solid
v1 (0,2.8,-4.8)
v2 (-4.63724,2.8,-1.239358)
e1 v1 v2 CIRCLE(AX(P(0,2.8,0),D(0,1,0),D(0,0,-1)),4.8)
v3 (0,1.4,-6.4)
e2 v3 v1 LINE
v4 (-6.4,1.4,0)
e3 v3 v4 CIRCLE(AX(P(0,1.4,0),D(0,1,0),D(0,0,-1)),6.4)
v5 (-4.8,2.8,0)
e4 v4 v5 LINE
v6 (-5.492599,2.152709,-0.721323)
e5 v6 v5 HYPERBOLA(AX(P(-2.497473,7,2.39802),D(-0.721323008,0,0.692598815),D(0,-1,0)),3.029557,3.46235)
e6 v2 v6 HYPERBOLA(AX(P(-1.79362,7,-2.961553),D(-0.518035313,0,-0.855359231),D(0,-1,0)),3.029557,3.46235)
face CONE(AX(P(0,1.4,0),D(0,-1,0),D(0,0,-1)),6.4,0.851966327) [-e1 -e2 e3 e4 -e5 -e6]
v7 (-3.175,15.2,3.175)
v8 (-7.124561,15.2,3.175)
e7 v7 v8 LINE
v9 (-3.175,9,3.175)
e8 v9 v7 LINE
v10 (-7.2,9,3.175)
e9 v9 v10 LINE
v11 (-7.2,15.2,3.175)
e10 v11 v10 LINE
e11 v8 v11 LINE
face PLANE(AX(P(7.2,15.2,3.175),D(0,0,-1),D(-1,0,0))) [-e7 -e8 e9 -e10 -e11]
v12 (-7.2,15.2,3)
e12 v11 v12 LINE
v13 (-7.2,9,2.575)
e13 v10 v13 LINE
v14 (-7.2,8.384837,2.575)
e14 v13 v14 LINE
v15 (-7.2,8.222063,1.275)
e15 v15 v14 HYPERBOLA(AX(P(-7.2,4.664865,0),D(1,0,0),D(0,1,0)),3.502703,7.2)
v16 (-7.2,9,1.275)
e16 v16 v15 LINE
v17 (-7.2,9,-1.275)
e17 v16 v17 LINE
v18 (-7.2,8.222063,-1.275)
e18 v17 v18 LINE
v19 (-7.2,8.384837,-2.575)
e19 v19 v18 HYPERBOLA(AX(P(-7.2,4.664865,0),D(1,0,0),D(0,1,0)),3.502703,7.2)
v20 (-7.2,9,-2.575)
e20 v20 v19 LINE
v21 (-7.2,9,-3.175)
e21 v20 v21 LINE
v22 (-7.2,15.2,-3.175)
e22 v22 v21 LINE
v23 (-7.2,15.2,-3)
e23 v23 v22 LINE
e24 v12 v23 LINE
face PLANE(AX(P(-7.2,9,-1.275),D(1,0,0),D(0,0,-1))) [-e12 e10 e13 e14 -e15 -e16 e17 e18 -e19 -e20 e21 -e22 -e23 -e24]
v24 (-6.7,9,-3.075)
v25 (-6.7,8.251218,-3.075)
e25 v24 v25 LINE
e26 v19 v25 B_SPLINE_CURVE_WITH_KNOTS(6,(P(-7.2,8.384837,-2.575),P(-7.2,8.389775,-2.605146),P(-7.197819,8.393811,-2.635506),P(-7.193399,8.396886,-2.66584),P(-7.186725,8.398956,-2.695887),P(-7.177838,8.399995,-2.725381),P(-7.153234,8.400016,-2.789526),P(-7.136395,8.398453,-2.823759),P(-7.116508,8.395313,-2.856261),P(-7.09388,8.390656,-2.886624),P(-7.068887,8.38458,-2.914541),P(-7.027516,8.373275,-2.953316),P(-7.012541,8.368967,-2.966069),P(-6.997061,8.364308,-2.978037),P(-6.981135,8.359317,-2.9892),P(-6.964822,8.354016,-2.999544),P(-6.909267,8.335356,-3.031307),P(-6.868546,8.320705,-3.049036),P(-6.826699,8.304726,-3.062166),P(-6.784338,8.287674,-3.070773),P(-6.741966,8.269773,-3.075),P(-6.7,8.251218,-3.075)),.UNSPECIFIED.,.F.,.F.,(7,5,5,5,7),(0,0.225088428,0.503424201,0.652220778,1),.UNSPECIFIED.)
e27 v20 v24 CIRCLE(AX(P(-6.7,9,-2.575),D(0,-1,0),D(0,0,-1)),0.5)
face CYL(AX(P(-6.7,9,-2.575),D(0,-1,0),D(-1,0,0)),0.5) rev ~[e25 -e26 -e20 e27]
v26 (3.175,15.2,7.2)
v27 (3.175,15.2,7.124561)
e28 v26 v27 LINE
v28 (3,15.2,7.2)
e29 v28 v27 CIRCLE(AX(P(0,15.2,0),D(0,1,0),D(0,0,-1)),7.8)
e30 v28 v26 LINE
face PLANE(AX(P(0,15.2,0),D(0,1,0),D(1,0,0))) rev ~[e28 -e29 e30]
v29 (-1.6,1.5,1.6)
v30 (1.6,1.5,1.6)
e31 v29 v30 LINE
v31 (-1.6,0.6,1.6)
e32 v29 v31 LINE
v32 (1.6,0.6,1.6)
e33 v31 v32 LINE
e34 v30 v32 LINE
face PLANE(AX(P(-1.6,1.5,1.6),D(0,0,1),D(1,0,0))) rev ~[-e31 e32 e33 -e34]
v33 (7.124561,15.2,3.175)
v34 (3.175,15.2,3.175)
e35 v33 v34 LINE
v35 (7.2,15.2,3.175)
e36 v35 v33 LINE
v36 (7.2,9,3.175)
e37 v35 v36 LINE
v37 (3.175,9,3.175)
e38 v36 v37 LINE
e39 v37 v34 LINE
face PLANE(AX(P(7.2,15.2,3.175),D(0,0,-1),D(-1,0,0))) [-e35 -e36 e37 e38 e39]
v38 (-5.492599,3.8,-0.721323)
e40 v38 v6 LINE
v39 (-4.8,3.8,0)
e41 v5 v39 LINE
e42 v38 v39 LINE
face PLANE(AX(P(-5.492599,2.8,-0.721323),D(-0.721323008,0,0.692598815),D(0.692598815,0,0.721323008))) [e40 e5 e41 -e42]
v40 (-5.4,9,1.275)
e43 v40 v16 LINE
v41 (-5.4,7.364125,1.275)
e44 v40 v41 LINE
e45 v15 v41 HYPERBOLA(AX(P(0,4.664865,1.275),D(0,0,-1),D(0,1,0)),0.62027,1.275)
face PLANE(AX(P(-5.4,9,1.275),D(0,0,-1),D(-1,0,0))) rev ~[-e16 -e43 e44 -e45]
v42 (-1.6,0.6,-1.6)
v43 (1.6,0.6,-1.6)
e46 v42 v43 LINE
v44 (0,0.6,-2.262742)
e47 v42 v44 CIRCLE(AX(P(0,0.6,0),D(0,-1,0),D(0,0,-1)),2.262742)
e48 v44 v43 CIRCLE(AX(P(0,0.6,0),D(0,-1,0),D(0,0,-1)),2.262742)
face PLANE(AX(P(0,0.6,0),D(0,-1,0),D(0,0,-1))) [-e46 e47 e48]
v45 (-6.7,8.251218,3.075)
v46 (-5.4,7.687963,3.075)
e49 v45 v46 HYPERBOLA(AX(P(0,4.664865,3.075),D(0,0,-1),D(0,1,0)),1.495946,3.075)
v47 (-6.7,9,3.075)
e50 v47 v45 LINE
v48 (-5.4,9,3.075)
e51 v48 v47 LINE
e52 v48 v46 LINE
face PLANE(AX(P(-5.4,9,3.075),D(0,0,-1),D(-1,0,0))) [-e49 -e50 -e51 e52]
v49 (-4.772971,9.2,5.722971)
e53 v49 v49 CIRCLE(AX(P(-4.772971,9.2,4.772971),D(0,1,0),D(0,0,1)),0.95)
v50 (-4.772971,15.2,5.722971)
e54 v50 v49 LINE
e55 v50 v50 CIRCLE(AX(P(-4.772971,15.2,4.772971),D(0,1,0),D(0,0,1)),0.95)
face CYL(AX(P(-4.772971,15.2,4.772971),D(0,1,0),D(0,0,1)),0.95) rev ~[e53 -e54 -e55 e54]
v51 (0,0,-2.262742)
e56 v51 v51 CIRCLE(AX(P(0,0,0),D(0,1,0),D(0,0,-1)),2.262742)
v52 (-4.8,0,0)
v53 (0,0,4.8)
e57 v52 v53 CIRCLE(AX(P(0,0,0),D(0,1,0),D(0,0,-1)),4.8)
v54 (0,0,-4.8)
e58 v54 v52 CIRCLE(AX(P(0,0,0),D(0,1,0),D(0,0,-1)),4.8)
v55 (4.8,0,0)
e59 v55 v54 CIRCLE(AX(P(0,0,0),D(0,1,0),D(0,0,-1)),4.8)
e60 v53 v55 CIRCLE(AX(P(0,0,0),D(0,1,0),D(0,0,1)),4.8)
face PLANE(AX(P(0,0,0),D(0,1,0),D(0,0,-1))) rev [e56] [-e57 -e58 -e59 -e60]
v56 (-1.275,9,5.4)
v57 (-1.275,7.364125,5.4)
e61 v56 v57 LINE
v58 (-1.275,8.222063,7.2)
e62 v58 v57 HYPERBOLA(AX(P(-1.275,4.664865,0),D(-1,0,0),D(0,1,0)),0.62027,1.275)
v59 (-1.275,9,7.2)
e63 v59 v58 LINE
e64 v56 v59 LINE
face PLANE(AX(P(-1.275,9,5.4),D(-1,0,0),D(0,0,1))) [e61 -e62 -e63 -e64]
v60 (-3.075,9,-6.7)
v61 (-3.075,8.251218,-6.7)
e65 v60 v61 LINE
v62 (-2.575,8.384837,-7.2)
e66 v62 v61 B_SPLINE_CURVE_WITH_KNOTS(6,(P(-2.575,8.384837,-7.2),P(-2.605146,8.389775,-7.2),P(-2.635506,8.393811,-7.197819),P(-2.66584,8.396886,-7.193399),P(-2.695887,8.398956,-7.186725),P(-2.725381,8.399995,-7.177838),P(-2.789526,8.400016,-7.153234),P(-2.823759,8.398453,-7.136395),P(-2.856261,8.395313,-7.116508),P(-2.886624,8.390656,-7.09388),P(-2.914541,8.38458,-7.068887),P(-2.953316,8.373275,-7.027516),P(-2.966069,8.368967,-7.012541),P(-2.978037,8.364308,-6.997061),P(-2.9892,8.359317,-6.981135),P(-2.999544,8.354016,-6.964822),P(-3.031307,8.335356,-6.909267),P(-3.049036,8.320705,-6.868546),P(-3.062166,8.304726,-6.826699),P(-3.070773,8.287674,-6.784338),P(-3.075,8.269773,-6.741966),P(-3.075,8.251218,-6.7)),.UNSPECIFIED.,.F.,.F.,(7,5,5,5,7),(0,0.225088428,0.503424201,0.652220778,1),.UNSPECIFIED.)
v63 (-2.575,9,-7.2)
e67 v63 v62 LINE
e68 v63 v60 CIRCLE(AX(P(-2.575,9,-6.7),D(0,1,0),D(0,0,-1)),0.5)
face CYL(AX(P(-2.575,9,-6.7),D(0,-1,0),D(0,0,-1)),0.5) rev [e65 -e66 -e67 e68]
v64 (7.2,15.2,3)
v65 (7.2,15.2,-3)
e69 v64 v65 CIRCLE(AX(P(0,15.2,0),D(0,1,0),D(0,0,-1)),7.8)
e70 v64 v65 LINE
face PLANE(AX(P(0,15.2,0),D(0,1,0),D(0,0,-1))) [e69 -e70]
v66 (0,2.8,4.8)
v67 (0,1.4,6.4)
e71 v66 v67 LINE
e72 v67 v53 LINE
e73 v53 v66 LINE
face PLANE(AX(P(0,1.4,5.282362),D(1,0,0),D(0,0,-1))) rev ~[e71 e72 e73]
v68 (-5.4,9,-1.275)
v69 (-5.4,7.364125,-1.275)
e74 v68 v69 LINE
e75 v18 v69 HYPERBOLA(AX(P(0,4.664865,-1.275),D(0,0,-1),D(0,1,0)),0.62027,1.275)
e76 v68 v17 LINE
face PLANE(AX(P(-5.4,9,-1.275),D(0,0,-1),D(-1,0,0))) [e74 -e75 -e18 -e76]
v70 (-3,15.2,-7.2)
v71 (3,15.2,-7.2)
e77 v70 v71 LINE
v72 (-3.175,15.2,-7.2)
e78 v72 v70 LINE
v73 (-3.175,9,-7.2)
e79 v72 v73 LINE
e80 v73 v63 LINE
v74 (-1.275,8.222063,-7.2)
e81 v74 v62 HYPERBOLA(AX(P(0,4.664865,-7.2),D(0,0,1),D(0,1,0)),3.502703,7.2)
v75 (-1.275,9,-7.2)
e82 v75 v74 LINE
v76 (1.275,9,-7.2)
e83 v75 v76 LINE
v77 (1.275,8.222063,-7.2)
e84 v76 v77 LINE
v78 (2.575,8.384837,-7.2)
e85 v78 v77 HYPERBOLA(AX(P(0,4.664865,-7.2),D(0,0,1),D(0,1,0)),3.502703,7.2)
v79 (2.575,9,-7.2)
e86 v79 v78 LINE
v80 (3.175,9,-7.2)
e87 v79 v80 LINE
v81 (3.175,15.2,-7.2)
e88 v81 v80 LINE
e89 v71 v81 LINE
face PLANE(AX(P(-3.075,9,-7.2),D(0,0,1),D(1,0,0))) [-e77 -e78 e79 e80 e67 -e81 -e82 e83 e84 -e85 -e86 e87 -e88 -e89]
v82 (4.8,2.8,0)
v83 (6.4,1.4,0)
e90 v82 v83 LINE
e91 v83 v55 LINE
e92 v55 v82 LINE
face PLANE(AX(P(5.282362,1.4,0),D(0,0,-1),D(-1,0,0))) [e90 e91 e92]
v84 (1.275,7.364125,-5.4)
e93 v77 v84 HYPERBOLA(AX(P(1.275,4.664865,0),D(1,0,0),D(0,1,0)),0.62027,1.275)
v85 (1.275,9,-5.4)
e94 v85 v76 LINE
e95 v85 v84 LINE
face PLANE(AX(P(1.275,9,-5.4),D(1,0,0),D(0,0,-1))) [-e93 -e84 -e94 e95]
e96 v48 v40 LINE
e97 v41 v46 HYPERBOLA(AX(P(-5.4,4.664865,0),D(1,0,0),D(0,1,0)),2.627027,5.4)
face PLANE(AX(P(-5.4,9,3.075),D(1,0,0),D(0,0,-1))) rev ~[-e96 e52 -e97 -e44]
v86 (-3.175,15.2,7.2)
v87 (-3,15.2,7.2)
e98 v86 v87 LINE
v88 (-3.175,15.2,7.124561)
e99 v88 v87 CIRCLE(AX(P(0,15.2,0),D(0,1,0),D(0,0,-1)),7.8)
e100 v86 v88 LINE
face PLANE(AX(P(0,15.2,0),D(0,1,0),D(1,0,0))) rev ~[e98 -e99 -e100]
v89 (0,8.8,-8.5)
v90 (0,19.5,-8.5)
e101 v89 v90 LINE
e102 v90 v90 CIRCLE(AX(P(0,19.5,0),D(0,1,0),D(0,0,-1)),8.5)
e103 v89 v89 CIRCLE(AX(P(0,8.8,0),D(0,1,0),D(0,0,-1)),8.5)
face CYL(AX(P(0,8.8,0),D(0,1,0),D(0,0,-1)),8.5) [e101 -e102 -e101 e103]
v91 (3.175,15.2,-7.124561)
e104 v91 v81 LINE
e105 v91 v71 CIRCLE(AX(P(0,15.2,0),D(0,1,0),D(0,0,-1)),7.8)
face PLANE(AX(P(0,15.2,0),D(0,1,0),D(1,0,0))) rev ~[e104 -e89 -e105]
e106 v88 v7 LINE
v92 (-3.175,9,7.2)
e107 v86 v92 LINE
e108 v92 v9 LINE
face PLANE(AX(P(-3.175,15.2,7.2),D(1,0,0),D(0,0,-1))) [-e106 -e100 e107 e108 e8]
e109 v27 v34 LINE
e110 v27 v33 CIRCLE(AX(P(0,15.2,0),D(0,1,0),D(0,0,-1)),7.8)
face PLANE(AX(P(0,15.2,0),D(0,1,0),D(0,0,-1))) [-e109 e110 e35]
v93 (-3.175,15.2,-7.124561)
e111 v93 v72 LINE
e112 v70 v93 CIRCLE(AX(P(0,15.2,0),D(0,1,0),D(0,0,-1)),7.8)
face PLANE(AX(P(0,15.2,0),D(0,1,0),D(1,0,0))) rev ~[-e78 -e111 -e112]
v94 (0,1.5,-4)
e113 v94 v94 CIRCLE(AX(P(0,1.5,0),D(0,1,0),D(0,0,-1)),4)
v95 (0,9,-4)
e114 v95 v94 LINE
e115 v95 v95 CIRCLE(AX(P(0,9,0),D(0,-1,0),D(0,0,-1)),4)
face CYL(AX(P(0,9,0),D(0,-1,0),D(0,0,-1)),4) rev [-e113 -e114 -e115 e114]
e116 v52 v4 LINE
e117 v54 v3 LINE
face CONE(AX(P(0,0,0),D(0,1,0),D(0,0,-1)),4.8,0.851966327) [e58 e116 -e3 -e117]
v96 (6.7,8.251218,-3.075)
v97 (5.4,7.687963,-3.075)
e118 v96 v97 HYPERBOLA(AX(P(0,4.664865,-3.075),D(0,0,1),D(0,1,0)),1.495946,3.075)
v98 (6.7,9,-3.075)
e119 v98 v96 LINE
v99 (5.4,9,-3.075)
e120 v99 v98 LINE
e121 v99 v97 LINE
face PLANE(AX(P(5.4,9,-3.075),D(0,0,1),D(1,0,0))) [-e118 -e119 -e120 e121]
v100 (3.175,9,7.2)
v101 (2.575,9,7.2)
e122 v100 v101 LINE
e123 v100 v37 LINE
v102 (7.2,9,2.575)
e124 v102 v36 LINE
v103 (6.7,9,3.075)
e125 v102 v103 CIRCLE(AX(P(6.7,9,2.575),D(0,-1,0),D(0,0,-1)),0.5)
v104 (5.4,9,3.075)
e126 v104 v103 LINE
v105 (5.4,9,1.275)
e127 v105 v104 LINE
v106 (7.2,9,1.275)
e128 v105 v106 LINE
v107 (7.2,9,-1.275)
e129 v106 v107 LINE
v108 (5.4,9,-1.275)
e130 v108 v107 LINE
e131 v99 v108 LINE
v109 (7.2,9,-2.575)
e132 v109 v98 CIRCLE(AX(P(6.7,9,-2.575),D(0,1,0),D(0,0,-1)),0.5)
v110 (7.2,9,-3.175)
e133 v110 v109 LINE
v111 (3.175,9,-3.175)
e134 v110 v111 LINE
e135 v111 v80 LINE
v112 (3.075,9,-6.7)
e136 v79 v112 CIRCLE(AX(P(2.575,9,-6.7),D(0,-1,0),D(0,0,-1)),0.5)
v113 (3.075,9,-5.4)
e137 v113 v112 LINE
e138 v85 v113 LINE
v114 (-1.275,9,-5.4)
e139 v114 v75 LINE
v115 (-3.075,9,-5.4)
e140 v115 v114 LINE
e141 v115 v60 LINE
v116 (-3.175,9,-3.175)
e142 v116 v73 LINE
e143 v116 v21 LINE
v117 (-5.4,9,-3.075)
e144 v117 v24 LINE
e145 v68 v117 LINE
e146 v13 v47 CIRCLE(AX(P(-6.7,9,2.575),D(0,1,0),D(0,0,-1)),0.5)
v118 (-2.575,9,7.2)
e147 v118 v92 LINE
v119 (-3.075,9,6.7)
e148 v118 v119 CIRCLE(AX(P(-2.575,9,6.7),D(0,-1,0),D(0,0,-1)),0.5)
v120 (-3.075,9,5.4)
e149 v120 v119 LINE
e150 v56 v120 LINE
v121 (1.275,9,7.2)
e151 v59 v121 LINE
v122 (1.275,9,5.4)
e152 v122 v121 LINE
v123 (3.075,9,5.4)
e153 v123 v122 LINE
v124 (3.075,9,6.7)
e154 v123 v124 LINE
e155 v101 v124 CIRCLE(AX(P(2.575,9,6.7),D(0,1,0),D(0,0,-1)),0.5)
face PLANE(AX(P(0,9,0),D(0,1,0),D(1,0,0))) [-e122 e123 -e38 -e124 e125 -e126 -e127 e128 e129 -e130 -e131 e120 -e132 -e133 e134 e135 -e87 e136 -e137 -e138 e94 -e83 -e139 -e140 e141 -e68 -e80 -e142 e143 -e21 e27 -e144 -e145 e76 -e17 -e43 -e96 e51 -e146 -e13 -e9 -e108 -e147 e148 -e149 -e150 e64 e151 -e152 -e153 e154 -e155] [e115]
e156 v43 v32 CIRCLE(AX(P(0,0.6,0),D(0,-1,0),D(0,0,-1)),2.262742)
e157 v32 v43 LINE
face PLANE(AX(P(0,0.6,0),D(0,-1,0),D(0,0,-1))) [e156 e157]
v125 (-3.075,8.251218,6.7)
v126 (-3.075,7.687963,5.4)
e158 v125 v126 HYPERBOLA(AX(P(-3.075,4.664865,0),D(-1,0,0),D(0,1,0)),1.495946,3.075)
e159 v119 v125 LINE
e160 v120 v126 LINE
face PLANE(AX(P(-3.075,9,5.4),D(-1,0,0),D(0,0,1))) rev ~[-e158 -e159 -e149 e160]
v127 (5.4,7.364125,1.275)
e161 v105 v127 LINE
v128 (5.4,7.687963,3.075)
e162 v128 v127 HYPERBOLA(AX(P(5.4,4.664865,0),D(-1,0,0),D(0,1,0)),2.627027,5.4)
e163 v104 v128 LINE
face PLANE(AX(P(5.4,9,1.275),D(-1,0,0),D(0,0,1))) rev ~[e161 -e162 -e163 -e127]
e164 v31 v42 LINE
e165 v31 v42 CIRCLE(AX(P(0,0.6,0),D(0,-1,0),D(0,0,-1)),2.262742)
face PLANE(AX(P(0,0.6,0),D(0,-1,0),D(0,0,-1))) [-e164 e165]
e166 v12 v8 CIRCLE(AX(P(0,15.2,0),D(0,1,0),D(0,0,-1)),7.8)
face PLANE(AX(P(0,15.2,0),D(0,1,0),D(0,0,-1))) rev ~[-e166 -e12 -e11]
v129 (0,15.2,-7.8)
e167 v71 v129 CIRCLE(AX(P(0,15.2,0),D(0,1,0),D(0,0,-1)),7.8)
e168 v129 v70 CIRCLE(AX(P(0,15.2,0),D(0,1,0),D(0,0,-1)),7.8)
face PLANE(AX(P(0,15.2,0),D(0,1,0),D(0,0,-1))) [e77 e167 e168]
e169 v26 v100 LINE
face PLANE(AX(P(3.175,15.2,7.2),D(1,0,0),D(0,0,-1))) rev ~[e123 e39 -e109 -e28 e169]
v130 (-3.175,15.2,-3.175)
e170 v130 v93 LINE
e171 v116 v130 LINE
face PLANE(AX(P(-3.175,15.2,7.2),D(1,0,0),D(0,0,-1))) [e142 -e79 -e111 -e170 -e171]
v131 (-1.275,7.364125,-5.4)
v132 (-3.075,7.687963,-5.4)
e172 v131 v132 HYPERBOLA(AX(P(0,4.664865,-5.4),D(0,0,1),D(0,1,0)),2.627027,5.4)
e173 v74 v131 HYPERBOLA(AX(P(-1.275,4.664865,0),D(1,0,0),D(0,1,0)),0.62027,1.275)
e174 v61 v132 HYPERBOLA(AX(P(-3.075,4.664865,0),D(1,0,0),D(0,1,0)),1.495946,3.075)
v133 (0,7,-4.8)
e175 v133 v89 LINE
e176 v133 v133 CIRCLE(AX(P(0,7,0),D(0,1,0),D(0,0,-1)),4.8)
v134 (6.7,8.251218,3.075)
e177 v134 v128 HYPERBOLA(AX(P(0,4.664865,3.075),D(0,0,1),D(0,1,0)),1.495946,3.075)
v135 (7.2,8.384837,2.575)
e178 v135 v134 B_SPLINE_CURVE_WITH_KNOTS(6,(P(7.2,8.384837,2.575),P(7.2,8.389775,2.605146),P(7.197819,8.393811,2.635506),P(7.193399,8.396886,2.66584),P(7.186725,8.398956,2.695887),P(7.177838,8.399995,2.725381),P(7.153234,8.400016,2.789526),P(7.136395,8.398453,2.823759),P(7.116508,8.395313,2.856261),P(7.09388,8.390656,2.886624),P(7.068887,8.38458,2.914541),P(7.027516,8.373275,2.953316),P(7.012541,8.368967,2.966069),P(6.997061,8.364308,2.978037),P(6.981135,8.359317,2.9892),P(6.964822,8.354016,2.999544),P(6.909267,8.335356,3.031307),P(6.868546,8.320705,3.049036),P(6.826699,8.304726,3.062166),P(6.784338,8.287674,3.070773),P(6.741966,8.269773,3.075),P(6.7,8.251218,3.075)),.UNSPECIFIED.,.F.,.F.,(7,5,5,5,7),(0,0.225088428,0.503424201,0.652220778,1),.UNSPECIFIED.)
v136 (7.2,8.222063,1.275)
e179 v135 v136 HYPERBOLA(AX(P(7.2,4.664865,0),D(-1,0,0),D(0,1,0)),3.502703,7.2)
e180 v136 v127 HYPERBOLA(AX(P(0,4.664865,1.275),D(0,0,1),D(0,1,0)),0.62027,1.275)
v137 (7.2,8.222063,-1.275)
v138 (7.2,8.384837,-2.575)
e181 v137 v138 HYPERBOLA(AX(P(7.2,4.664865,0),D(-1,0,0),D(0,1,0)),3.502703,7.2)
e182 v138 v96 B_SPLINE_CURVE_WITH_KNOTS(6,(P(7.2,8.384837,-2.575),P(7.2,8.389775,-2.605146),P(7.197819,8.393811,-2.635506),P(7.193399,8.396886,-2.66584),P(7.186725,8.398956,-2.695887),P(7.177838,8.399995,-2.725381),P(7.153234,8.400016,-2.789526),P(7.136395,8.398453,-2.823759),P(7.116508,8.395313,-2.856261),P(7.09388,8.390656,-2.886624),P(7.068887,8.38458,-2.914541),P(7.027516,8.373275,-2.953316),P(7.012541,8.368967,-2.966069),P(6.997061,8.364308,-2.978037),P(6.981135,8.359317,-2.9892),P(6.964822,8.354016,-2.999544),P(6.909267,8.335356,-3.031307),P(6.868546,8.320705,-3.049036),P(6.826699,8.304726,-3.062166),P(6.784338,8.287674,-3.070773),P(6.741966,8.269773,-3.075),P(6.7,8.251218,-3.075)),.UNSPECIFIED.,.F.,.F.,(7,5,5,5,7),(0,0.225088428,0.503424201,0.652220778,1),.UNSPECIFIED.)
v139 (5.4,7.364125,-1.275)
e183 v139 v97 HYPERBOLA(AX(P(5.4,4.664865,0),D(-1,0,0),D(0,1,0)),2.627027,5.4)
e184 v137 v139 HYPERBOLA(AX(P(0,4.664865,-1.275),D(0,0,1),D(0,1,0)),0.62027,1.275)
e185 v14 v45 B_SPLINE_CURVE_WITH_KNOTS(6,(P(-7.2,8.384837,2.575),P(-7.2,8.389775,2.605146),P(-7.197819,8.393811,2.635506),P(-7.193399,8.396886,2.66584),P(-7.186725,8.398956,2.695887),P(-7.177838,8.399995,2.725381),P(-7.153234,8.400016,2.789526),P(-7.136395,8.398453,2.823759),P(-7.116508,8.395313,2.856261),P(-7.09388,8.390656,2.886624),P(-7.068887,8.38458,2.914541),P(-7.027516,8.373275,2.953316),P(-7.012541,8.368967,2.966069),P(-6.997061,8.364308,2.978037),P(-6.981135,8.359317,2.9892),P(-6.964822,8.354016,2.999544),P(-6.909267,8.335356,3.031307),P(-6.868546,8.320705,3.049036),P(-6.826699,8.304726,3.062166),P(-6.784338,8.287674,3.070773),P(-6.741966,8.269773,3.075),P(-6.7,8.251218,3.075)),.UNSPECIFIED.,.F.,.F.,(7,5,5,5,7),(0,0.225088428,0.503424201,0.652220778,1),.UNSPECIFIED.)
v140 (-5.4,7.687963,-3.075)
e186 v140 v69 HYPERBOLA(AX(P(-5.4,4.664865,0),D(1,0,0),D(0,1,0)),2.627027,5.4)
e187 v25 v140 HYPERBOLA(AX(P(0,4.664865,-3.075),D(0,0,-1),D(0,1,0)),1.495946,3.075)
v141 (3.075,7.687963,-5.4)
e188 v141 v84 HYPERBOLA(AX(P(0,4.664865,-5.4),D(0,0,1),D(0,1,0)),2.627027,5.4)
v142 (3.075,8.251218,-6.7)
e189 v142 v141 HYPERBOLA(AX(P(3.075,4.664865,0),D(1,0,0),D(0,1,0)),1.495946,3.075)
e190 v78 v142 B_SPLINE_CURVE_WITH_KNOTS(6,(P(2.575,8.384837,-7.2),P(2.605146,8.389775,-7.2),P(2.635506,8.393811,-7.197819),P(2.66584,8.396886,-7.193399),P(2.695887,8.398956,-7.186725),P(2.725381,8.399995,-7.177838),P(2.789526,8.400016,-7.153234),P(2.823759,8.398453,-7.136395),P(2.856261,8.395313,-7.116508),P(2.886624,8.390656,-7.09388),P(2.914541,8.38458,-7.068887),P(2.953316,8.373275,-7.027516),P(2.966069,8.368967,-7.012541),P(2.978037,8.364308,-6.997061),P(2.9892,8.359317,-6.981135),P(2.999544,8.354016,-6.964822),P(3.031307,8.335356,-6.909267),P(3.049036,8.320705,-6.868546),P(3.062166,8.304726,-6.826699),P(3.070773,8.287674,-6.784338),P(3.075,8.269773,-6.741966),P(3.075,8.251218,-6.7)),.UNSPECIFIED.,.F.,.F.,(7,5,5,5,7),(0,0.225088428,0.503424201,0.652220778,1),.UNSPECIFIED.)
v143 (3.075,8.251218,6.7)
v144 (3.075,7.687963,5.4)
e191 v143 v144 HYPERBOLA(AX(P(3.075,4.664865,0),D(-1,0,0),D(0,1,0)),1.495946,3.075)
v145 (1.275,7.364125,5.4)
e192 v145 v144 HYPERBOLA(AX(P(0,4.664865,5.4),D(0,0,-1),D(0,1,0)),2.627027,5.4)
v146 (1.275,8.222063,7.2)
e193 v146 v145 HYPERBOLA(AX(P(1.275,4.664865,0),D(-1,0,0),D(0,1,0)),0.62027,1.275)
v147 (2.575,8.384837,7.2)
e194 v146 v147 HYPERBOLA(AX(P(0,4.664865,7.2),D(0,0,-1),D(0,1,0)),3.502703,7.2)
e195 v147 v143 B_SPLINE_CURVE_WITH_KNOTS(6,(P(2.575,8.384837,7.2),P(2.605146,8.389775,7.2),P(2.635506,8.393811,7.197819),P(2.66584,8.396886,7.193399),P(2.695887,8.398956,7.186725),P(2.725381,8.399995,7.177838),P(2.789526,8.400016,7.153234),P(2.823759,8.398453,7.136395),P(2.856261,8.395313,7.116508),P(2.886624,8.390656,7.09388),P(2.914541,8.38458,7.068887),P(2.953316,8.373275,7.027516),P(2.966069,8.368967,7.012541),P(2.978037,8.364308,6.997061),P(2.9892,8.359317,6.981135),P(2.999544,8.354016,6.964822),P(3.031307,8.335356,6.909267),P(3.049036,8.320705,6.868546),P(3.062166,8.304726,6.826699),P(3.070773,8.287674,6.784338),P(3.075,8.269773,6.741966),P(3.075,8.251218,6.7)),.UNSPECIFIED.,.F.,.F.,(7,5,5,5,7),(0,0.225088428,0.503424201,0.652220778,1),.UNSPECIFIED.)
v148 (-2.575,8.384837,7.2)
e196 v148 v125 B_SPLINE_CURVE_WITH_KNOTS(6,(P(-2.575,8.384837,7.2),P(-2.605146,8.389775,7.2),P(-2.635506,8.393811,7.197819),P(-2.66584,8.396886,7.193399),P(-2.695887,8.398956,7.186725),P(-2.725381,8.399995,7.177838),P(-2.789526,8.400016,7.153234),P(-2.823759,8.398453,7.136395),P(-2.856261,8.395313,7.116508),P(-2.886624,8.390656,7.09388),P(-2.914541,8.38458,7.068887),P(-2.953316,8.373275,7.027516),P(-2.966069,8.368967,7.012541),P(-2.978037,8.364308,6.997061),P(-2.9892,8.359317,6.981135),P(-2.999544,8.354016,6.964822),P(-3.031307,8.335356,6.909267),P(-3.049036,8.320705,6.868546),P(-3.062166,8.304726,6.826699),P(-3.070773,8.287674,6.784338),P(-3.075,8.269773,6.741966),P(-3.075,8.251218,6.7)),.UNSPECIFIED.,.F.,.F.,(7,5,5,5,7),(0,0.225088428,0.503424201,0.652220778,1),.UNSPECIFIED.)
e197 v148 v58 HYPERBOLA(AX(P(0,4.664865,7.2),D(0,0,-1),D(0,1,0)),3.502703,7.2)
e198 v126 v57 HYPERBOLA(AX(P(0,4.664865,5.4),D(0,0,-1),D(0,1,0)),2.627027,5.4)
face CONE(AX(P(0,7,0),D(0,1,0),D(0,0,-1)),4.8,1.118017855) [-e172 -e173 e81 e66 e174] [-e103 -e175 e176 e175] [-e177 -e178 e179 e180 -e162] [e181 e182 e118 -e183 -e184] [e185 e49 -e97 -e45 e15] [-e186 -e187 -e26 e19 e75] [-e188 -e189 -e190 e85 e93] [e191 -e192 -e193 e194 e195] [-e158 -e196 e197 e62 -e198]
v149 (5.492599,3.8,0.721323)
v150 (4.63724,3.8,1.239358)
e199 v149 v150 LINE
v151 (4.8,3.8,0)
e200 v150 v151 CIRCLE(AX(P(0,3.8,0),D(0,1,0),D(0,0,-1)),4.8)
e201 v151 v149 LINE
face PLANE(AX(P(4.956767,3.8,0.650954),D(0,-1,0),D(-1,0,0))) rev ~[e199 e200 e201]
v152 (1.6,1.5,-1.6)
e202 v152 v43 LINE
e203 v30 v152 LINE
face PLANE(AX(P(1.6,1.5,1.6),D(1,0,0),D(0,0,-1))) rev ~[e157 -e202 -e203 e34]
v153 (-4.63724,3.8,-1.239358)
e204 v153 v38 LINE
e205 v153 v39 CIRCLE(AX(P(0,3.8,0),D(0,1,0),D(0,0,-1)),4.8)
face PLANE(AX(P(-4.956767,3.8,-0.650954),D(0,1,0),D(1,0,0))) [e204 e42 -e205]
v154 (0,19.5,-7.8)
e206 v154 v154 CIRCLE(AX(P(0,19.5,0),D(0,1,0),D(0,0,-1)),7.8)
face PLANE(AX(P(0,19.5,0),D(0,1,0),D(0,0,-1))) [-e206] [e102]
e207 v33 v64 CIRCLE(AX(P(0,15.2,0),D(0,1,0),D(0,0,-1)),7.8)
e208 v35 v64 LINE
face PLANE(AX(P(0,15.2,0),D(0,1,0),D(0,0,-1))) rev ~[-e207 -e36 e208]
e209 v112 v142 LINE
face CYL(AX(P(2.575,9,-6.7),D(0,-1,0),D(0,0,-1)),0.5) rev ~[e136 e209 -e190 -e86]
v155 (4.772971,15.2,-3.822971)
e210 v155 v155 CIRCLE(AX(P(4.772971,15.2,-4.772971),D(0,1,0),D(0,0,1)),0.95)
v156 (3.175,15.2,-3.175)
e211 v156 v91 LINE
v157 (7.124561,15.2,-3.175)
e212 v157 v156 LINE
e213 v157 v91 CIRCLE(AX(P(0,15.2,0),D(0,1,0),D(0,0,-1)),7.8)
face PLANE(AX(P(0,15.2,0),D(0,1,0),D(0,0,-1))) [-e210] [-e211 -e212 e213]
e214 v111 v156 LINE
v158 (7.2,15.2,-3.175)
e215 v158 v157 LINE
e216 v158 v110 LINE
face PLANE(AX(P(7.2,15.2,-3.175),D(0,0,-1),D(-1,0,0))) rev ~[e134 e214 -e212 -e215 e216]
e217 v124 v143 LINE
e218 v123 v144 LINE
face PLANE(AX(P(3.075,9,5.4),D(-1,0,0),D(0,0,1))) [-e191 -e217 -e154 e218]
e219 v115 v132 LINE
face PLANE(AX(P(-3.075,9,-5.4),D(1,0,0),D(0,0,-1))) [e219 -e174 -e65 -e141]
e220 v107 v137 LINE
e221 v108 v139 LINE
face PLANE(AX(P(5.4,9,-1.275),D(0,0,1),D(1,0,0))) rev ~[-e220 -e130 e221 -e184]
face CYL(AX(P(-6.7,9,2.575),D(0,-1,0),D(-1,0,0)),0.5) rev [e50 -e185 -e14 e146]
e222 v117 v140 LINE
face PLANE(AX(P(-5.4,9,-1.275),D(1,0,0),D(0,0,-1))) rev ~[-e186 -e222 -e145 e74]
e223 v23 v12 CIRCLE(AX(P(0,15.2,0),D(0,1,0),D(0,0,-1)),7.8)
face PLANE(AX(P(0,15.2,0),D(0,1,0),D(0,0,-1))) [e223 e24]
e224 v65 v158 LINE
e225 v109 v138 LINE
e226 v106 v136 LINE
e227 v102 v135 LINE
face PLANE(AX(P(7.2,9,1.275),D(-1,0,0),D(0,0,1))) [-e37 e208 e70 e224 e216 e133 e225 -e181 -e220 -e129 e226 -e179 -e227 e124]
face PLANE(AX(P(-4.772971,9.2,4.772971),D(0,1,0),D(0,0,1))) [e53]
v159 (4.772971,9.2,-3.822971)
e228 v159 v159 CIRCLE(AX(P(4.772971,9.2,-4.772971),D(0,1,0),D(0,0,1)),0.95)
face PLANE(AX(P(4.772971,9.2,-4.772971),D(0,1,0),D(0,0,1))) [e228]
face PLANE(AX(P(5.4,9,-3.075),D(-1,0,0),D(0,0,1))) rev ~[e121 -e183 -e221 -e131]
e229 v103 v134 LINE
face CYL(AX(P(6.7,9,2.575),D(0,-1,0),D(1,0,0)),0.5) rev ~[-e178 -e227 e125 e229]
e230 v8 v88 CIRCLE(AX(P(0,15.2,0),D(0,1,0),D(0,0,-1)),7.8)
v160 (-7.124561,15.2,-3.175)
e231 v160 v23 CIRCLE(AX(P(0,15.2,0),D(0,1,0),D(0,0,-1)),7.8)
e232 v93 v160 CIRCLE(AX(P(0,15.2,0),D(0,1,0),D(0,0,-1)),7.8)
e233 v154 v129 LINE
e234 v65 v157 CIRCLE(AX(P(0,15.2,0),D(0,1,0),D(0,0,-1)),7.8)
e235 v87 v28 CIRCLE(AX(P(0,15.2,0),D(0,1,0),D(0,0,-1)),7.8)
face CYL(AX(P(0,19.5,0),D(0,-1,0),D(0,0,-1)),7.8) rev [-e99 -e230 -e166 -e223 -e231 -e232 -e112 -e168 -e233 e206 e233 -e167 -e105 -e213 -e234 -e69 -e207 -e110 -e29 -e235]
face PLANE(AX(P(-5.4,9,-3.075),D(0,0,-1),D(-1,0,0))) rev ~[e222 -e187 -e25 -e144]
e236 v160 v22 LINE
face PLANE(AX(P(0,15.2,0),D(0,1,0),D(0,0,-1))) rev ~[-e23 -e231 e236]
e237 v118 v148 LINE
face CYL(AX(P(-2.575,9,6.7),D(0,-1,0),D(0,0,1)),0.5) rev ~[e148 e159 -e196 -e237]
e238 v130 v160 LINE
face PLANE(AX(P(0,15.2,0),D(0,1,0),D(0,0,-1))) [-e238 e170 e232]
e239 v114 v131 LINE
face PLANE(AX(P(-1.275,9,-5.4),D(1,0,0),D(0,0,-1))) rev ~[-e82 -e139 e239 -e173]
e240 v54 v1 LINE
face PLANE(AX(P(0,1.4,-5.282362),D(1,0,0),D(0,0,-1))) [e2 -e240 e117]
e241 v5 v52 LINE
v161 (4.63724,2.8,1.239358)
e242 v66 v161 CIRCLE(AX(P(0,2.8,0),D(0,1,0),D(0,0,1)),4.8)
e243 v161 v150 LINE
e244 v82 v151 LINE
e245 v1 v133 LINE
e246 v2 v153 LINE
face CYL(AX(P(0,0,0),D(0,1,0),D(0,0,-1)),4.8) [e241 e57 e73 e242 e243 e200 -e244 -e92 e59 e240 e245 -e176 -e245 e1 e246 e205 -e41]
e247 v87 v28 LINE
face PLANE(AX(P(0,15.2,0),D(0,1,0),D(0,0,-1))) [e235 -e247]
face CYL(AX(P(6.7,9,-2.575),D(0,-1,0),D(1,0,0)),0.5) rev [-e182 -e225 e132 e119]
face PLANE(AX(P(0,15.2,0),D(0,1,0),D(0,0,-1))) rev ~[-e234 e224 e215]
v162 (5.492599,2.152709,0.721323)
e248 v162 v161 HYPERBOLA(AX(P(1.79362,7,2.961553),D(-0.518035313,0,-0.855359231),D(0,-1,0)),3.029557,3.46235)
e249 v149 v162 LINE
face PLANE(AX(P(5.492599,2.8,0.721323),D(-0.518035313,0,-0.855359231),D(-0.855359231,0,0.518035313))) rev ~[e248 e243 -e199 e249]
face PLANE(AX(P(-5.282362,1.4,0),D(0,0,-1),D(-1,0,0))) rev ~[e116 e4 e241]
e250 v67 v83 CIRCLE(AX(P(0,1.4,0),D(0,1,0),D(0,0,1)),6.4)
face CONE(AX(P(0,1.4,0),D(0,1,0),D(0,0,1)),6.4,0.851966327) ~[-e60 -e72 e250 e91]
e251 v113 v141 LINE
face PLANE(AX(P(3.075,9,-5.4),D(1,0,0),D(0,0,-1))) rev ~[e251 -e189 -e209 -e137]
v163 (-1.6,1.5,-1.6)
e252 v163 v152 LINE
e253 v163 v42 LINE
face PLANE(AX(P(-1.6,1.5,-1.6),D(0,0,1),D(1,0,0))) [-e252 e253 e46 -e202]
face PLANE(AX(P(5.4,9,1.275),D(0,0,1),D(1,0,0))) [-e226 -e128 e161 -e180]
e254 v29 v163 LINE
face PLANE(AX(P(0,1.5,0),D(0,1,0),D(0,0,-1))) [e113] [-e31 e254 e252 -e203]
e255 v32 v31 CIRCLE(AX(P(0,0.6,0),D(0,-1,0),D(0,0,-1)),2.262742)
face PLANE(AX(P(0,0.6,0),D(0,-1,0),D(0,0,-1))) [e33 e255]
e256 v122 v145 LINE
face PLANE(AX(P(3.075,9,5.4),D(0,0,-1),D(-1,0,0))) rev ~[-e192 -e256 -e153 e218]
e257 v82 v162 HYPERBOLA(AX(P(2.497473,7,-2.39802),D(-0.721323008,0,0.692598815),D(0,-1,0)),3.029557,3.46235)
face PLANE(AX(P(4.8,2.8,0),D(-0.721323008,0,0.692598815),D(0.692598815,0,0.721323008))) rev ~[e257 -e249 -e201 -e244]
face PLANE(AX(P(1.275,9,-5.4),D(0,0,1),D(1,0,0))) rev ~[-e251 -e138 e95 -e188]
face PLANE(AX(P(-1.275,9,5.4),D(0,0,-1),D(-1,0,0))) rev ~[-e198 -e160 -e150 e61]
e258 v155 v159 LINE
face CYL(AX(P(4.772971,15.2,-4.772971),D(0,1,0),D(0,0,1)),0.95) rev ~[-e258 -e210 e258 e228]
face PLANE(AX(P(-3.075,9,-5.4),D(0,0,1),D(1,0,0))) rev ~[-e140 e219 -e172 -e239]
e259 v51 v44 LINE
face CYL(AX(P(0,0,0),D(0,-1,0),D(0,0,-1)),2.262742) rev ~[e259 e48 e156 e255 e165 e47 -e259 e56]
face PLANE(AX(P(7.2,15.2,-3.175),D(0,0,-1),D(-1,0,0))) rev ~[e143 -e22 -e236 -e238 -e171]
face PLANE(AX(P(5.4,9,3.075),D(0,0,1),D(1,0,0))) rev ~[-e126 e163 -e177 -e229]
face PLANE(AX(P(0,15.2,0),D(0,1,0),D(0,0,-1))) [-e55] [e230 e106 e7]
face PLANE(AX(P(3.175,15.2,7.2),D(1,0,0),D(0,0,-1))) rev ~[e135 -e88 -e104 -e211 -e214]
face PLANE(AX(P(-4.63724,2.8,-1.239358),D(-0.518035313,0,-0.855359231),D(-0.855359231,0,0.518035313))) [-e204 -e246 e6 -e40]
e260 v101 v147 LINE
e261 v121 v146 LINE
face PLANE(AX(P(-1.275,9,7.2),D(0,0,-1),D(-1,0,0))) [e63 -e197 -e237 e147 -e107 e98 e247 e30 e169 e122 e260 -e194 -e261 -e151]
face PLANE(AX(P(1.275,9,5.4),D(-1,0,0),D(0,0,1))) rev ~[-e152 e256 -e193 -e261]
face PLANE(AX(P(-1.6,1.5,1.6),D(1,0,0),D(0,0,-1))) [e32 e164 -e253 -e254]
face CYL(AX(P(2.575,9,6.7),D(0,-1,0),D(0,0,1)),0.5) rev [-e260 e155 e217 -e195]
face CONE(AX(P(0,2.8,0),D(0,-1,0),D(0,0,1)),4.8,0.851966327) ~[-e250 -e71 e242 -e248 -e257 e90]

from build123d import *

# Parameters (mm, degrees)
SKETCH2_W                       = 6.35
SKETCH2_H                       = 14.4
CUT_EXTRUDE1_DEPTH              = 6.2
CIRPATTERN1_COUNT               = 4
SKETCH3_W                       = 3.2
SKETCH3_H                       = 3.2
CUT_EXTRUDE2_DEPTH              = 22.644860822
SKETCH4_W                       = 1.8
SKETCH4_H                       = 1.8
CUT_EXTRUDE3_DEPTH              = 16.9608897
FILLET1_R                       = 0.5
CIRPATTERN2_COUNT               = 4
FILLET1_OF_CIRPATTERN2_R        = 0.5
SKETCH5_R                       = 0.95
CUT_EXTRUDE4_DEPTH              = 6
REVOLVE2_ANGLE                  = 90
BOSS_EXTRUDE1_DEPTH             = 1
BOSS_EXTRUDE1_DIRECTION_2_REACH = 22.576
SKETCH8_R                       = 2.2627417
CUT_EXTRUDE5_DEPTH              = 0.6


with BuildPart() as part:
    # Sketch1 → Revolve1 (revolve)
    with BuildSketch(Plane.XY, mode=Mode.PRIVATE) as revolve1_sk:
        Polygon((0, 0), (4.8, 0), (4.8, 7), (8.5, 8.8), (8.5, 19.5), (7.8, 19.5), (7.8, 15.2), (4.25, 15.2), (4.25, 9), (4, 9), (4, 1.5), (0, 1.5), align=None)
    revolve(revolve1_sk.sketch.rotate(Axis((0, 0, 0), (0, 1, 0)), 90), axis=Axis((0, 0, 0), (0, 1, 0)))

    # Sketch2 → Cut-Extrude1 (cut)
    with BuildSketch(Plane(origin=(0, 15.2, 0), x_dir=(1, 0, 0), z_dir=(0, 1, 0))):
        Rectangle(SKETCH2_W, SKETCH2_H)
    cut_extrude1 = extrude(amount=-CUT_EXTRUDE1_DEPTH, mode=Mode.SUBTRACT)

    # CirPattern1: Cut-Extrude1 ×4 about axis
    cirpattern1_axis = Axis((0, 0, 0), (0, 1, 0))
    for i in range(1, CIRPATTERN1_COUNT):
        add(cut_extrude1.rotate(cirpattern1_axis, i * 360 / CIRPATTERN1_COUNT), mode=Mode.SUBTRACT)

    # Sketch3 → Cut-Extrude2 (cut, through all)
    with BuildSketch(Plane(origin=(0, 1.5, 0), x_dir=(1, 0, 0), z_dir=(0, 1, 0))):
        Rectangle(SKETCH3_W, SKETCH3_H)
    extrude(amount=-CUT_EXTRUDE2_DEPTH, mode=Mode.SUBTRACT)

    # Sketch4 → Cut-Extrude3 (cut, through all)
    with BuildSketch(Plane(origin=(0, 9, 0), x_dir=(1, 0, 0), z_dir=(0, 1, 0))):
        with Locations((-2.175, 6.3)):
            Rectangle(SKETCH4_W, SKETCH4_H)
        with Locations((2.175, 6.3)):
            Rectangle(SKETCH4_W, SKETCH4_H)
    cut_extrude3 = extrude(amount=-CUT_EXTRUDE3_DEPTH, mode=Mode.SUBTRACT)

    # Fillet1
    fillet1_edges = [part.edges().sort_by_distance(p)[0] for p in [
        (3.075, 8.736820818, -7.2),
        (-3.075, 8.736820818, -7.2),
    ]]
    fillet(fillet1_edges, radius=FILLET1_R)

    # CirPattern2: Cut-Extrude3 ×4 about axis
    cirpattern2_axis = Axis((0, 0, 0), (0, 1, 0))
    for i in range(1, CIRPATTERN2_COUNT):
        add(cut_extrude3.rotate(cirpattern2_axis, i * 360 / CIRPATTERN2_COUNT), mode=Mode.SUBTRACT)

    # Fillet1 of CirPattern2
    fillet1_of_cirpattern2_edges = [part.edges().sort_by_distance(p)[0] for p in [
        (-7.2, 8.736820818, -3.075),
        (-7.2, 8.736820818, 3.075),
        (-3.075, 8.736820818, 7.2),
        (3.075, 8.736820818, 7.2),
        (7.2, 8.736820818, 3.075),
        (7.2, 8.736820818, -3.075),
    ]]
    fillet(fillet1_of_cirpattern2_edges, radius=FILLET1_OF_CIRPATTERN2_R)

    # Sketch5 → Cut-Extrude4 (cut)
    with BuildSketch(Plane(origin=(0, 15.2, 0), x_dir=(1, 0, 0), z_dir=(0, 1, 0))):
        with Locations(Location((4.772970773, 4.772970773, 0), (0, 0, 270))):
            Circle(SKETCH5_R)
        with Locations(Location((-4.772970773, -4.772970773, 0), (0, 0, 270))):
            Circle(SKETCH5_R)
    extrude(amount=-CUT_EXTRUDE4_DEPTH, mode=Mode.SUBTRACT)

    # Sketch6 → Revolve2 (revolve)
    with BuildSketch(Plane(origin=(0, 0, 0), x_dir=(0, 0, -1), z_dir=(1, 0, 0))):
        Polygon((-4.8, 2.8), (-6.4, 1.4), (-4.8, 0), align=None)
        Polygon((4.8, 2.8), (4.8, 0), (6.4, 1.4), align=None)
    revolve(axis=Axis((0, 0, 0), (0, 1, 0)), revolution_arc=REVOLVE2_ANGLE)

    # Sketch7 → Boss-Extrude1 (add)
    with BuildSketch(Plane(origin=(0, 2.8, 0), x_dir=(1, 0, 0), z_dir=(0, 1, 0))):
        Polygon((4.8, 0), (5.492598815, -0.721323008), (4.637239583, -1.239358321), align=None)
        Polygon((-4.8, 0), (-4.637239583, 1.239358321), (-5.492598815, 0.721323008), align=None)
    extrude(amount=BOSS_EXTRUDE1_DEPTH)

    # Boss-Extrude1 direction 2: up to this cone (the profile starts outside it)
    boss_extrude1_direction_2_end = Plane(origin=(0, 2.8, 0), z_dir=(0, -1, 0)).offset(-4.199999) * Cone(1.143e-06, 36.658285714, 32.075999, align=(Align.CENTER, Align.CENTER, Align.MIN), mode=Mode.PRIVATE)
    # Sketch7 → Boss-Extrude1 direction 2 (add, up to the surface)
    with BuildSketch(Plane(origin=(0, 2.8, 0), x_dir=(1, 0, 0), z_dir=(0, 1, 0)), mode=Mode.PRIVATE) as boss_extrude1_direction_2_sk1:
        Polygon((4.8, 0), (5.492598815, -0.721323008), (4.637239583, -1.239358321), align=None)
    boss_extrude1_direction_2_tool1 = extrude(boss_extrude1_direction_2_sk1.sketch, amount=-BOSS_EXTRUDE1_DIRECTION_2_REACH, mode=Mode.PRIVATE) - boss_extrude1_direction_2_end
    add(boss_extrude1_direction_2_tool1.solids().sort_by_distance((4.976613, 2.8, 0.65356))[0])
    # Sketch7 → Boss-Extrude1 direction 2 (add, up to the surface)
    with BuildSketch(Plane(origin=(0, 2.8, 0), x_dir=(1, 0, 0), z_dir=(0, 1, 0)), mode=Mode.PRIVATE) as boss_extrude1_direction_2_sk2:
        Polygon((-4.8, 0), (-4.637239583, 1.239358321), (-5.492598815, 0.721323008), align=None)
    boss_extrude1_direction_2_tool2 = extrude(boss_extrude1_direction_2_sk2.sketch, amount=-BOSS_EXTRUDE1_DIRECTION_2_REACH, mode=Mode.PRIVATE) - boss_extrude1_direction_2_end
    add(boss_extrude1_direction_2_tool2.solids().sort_by_distance((-4.976613, 2.8, -0.65356))[0])

    # Sketch8 → Cut-Extrude5 (cut)
    with BuildSketch(Plane.XZ):
        with Locations(Location((0, 0, 0), (0, 0, 270))):
            Circle(SKETCH8_R)
    extrude(amount=-CUT_EXTRUDE5_DEPTH, mode=Mode.SUBTRACT)


solid = part.part
